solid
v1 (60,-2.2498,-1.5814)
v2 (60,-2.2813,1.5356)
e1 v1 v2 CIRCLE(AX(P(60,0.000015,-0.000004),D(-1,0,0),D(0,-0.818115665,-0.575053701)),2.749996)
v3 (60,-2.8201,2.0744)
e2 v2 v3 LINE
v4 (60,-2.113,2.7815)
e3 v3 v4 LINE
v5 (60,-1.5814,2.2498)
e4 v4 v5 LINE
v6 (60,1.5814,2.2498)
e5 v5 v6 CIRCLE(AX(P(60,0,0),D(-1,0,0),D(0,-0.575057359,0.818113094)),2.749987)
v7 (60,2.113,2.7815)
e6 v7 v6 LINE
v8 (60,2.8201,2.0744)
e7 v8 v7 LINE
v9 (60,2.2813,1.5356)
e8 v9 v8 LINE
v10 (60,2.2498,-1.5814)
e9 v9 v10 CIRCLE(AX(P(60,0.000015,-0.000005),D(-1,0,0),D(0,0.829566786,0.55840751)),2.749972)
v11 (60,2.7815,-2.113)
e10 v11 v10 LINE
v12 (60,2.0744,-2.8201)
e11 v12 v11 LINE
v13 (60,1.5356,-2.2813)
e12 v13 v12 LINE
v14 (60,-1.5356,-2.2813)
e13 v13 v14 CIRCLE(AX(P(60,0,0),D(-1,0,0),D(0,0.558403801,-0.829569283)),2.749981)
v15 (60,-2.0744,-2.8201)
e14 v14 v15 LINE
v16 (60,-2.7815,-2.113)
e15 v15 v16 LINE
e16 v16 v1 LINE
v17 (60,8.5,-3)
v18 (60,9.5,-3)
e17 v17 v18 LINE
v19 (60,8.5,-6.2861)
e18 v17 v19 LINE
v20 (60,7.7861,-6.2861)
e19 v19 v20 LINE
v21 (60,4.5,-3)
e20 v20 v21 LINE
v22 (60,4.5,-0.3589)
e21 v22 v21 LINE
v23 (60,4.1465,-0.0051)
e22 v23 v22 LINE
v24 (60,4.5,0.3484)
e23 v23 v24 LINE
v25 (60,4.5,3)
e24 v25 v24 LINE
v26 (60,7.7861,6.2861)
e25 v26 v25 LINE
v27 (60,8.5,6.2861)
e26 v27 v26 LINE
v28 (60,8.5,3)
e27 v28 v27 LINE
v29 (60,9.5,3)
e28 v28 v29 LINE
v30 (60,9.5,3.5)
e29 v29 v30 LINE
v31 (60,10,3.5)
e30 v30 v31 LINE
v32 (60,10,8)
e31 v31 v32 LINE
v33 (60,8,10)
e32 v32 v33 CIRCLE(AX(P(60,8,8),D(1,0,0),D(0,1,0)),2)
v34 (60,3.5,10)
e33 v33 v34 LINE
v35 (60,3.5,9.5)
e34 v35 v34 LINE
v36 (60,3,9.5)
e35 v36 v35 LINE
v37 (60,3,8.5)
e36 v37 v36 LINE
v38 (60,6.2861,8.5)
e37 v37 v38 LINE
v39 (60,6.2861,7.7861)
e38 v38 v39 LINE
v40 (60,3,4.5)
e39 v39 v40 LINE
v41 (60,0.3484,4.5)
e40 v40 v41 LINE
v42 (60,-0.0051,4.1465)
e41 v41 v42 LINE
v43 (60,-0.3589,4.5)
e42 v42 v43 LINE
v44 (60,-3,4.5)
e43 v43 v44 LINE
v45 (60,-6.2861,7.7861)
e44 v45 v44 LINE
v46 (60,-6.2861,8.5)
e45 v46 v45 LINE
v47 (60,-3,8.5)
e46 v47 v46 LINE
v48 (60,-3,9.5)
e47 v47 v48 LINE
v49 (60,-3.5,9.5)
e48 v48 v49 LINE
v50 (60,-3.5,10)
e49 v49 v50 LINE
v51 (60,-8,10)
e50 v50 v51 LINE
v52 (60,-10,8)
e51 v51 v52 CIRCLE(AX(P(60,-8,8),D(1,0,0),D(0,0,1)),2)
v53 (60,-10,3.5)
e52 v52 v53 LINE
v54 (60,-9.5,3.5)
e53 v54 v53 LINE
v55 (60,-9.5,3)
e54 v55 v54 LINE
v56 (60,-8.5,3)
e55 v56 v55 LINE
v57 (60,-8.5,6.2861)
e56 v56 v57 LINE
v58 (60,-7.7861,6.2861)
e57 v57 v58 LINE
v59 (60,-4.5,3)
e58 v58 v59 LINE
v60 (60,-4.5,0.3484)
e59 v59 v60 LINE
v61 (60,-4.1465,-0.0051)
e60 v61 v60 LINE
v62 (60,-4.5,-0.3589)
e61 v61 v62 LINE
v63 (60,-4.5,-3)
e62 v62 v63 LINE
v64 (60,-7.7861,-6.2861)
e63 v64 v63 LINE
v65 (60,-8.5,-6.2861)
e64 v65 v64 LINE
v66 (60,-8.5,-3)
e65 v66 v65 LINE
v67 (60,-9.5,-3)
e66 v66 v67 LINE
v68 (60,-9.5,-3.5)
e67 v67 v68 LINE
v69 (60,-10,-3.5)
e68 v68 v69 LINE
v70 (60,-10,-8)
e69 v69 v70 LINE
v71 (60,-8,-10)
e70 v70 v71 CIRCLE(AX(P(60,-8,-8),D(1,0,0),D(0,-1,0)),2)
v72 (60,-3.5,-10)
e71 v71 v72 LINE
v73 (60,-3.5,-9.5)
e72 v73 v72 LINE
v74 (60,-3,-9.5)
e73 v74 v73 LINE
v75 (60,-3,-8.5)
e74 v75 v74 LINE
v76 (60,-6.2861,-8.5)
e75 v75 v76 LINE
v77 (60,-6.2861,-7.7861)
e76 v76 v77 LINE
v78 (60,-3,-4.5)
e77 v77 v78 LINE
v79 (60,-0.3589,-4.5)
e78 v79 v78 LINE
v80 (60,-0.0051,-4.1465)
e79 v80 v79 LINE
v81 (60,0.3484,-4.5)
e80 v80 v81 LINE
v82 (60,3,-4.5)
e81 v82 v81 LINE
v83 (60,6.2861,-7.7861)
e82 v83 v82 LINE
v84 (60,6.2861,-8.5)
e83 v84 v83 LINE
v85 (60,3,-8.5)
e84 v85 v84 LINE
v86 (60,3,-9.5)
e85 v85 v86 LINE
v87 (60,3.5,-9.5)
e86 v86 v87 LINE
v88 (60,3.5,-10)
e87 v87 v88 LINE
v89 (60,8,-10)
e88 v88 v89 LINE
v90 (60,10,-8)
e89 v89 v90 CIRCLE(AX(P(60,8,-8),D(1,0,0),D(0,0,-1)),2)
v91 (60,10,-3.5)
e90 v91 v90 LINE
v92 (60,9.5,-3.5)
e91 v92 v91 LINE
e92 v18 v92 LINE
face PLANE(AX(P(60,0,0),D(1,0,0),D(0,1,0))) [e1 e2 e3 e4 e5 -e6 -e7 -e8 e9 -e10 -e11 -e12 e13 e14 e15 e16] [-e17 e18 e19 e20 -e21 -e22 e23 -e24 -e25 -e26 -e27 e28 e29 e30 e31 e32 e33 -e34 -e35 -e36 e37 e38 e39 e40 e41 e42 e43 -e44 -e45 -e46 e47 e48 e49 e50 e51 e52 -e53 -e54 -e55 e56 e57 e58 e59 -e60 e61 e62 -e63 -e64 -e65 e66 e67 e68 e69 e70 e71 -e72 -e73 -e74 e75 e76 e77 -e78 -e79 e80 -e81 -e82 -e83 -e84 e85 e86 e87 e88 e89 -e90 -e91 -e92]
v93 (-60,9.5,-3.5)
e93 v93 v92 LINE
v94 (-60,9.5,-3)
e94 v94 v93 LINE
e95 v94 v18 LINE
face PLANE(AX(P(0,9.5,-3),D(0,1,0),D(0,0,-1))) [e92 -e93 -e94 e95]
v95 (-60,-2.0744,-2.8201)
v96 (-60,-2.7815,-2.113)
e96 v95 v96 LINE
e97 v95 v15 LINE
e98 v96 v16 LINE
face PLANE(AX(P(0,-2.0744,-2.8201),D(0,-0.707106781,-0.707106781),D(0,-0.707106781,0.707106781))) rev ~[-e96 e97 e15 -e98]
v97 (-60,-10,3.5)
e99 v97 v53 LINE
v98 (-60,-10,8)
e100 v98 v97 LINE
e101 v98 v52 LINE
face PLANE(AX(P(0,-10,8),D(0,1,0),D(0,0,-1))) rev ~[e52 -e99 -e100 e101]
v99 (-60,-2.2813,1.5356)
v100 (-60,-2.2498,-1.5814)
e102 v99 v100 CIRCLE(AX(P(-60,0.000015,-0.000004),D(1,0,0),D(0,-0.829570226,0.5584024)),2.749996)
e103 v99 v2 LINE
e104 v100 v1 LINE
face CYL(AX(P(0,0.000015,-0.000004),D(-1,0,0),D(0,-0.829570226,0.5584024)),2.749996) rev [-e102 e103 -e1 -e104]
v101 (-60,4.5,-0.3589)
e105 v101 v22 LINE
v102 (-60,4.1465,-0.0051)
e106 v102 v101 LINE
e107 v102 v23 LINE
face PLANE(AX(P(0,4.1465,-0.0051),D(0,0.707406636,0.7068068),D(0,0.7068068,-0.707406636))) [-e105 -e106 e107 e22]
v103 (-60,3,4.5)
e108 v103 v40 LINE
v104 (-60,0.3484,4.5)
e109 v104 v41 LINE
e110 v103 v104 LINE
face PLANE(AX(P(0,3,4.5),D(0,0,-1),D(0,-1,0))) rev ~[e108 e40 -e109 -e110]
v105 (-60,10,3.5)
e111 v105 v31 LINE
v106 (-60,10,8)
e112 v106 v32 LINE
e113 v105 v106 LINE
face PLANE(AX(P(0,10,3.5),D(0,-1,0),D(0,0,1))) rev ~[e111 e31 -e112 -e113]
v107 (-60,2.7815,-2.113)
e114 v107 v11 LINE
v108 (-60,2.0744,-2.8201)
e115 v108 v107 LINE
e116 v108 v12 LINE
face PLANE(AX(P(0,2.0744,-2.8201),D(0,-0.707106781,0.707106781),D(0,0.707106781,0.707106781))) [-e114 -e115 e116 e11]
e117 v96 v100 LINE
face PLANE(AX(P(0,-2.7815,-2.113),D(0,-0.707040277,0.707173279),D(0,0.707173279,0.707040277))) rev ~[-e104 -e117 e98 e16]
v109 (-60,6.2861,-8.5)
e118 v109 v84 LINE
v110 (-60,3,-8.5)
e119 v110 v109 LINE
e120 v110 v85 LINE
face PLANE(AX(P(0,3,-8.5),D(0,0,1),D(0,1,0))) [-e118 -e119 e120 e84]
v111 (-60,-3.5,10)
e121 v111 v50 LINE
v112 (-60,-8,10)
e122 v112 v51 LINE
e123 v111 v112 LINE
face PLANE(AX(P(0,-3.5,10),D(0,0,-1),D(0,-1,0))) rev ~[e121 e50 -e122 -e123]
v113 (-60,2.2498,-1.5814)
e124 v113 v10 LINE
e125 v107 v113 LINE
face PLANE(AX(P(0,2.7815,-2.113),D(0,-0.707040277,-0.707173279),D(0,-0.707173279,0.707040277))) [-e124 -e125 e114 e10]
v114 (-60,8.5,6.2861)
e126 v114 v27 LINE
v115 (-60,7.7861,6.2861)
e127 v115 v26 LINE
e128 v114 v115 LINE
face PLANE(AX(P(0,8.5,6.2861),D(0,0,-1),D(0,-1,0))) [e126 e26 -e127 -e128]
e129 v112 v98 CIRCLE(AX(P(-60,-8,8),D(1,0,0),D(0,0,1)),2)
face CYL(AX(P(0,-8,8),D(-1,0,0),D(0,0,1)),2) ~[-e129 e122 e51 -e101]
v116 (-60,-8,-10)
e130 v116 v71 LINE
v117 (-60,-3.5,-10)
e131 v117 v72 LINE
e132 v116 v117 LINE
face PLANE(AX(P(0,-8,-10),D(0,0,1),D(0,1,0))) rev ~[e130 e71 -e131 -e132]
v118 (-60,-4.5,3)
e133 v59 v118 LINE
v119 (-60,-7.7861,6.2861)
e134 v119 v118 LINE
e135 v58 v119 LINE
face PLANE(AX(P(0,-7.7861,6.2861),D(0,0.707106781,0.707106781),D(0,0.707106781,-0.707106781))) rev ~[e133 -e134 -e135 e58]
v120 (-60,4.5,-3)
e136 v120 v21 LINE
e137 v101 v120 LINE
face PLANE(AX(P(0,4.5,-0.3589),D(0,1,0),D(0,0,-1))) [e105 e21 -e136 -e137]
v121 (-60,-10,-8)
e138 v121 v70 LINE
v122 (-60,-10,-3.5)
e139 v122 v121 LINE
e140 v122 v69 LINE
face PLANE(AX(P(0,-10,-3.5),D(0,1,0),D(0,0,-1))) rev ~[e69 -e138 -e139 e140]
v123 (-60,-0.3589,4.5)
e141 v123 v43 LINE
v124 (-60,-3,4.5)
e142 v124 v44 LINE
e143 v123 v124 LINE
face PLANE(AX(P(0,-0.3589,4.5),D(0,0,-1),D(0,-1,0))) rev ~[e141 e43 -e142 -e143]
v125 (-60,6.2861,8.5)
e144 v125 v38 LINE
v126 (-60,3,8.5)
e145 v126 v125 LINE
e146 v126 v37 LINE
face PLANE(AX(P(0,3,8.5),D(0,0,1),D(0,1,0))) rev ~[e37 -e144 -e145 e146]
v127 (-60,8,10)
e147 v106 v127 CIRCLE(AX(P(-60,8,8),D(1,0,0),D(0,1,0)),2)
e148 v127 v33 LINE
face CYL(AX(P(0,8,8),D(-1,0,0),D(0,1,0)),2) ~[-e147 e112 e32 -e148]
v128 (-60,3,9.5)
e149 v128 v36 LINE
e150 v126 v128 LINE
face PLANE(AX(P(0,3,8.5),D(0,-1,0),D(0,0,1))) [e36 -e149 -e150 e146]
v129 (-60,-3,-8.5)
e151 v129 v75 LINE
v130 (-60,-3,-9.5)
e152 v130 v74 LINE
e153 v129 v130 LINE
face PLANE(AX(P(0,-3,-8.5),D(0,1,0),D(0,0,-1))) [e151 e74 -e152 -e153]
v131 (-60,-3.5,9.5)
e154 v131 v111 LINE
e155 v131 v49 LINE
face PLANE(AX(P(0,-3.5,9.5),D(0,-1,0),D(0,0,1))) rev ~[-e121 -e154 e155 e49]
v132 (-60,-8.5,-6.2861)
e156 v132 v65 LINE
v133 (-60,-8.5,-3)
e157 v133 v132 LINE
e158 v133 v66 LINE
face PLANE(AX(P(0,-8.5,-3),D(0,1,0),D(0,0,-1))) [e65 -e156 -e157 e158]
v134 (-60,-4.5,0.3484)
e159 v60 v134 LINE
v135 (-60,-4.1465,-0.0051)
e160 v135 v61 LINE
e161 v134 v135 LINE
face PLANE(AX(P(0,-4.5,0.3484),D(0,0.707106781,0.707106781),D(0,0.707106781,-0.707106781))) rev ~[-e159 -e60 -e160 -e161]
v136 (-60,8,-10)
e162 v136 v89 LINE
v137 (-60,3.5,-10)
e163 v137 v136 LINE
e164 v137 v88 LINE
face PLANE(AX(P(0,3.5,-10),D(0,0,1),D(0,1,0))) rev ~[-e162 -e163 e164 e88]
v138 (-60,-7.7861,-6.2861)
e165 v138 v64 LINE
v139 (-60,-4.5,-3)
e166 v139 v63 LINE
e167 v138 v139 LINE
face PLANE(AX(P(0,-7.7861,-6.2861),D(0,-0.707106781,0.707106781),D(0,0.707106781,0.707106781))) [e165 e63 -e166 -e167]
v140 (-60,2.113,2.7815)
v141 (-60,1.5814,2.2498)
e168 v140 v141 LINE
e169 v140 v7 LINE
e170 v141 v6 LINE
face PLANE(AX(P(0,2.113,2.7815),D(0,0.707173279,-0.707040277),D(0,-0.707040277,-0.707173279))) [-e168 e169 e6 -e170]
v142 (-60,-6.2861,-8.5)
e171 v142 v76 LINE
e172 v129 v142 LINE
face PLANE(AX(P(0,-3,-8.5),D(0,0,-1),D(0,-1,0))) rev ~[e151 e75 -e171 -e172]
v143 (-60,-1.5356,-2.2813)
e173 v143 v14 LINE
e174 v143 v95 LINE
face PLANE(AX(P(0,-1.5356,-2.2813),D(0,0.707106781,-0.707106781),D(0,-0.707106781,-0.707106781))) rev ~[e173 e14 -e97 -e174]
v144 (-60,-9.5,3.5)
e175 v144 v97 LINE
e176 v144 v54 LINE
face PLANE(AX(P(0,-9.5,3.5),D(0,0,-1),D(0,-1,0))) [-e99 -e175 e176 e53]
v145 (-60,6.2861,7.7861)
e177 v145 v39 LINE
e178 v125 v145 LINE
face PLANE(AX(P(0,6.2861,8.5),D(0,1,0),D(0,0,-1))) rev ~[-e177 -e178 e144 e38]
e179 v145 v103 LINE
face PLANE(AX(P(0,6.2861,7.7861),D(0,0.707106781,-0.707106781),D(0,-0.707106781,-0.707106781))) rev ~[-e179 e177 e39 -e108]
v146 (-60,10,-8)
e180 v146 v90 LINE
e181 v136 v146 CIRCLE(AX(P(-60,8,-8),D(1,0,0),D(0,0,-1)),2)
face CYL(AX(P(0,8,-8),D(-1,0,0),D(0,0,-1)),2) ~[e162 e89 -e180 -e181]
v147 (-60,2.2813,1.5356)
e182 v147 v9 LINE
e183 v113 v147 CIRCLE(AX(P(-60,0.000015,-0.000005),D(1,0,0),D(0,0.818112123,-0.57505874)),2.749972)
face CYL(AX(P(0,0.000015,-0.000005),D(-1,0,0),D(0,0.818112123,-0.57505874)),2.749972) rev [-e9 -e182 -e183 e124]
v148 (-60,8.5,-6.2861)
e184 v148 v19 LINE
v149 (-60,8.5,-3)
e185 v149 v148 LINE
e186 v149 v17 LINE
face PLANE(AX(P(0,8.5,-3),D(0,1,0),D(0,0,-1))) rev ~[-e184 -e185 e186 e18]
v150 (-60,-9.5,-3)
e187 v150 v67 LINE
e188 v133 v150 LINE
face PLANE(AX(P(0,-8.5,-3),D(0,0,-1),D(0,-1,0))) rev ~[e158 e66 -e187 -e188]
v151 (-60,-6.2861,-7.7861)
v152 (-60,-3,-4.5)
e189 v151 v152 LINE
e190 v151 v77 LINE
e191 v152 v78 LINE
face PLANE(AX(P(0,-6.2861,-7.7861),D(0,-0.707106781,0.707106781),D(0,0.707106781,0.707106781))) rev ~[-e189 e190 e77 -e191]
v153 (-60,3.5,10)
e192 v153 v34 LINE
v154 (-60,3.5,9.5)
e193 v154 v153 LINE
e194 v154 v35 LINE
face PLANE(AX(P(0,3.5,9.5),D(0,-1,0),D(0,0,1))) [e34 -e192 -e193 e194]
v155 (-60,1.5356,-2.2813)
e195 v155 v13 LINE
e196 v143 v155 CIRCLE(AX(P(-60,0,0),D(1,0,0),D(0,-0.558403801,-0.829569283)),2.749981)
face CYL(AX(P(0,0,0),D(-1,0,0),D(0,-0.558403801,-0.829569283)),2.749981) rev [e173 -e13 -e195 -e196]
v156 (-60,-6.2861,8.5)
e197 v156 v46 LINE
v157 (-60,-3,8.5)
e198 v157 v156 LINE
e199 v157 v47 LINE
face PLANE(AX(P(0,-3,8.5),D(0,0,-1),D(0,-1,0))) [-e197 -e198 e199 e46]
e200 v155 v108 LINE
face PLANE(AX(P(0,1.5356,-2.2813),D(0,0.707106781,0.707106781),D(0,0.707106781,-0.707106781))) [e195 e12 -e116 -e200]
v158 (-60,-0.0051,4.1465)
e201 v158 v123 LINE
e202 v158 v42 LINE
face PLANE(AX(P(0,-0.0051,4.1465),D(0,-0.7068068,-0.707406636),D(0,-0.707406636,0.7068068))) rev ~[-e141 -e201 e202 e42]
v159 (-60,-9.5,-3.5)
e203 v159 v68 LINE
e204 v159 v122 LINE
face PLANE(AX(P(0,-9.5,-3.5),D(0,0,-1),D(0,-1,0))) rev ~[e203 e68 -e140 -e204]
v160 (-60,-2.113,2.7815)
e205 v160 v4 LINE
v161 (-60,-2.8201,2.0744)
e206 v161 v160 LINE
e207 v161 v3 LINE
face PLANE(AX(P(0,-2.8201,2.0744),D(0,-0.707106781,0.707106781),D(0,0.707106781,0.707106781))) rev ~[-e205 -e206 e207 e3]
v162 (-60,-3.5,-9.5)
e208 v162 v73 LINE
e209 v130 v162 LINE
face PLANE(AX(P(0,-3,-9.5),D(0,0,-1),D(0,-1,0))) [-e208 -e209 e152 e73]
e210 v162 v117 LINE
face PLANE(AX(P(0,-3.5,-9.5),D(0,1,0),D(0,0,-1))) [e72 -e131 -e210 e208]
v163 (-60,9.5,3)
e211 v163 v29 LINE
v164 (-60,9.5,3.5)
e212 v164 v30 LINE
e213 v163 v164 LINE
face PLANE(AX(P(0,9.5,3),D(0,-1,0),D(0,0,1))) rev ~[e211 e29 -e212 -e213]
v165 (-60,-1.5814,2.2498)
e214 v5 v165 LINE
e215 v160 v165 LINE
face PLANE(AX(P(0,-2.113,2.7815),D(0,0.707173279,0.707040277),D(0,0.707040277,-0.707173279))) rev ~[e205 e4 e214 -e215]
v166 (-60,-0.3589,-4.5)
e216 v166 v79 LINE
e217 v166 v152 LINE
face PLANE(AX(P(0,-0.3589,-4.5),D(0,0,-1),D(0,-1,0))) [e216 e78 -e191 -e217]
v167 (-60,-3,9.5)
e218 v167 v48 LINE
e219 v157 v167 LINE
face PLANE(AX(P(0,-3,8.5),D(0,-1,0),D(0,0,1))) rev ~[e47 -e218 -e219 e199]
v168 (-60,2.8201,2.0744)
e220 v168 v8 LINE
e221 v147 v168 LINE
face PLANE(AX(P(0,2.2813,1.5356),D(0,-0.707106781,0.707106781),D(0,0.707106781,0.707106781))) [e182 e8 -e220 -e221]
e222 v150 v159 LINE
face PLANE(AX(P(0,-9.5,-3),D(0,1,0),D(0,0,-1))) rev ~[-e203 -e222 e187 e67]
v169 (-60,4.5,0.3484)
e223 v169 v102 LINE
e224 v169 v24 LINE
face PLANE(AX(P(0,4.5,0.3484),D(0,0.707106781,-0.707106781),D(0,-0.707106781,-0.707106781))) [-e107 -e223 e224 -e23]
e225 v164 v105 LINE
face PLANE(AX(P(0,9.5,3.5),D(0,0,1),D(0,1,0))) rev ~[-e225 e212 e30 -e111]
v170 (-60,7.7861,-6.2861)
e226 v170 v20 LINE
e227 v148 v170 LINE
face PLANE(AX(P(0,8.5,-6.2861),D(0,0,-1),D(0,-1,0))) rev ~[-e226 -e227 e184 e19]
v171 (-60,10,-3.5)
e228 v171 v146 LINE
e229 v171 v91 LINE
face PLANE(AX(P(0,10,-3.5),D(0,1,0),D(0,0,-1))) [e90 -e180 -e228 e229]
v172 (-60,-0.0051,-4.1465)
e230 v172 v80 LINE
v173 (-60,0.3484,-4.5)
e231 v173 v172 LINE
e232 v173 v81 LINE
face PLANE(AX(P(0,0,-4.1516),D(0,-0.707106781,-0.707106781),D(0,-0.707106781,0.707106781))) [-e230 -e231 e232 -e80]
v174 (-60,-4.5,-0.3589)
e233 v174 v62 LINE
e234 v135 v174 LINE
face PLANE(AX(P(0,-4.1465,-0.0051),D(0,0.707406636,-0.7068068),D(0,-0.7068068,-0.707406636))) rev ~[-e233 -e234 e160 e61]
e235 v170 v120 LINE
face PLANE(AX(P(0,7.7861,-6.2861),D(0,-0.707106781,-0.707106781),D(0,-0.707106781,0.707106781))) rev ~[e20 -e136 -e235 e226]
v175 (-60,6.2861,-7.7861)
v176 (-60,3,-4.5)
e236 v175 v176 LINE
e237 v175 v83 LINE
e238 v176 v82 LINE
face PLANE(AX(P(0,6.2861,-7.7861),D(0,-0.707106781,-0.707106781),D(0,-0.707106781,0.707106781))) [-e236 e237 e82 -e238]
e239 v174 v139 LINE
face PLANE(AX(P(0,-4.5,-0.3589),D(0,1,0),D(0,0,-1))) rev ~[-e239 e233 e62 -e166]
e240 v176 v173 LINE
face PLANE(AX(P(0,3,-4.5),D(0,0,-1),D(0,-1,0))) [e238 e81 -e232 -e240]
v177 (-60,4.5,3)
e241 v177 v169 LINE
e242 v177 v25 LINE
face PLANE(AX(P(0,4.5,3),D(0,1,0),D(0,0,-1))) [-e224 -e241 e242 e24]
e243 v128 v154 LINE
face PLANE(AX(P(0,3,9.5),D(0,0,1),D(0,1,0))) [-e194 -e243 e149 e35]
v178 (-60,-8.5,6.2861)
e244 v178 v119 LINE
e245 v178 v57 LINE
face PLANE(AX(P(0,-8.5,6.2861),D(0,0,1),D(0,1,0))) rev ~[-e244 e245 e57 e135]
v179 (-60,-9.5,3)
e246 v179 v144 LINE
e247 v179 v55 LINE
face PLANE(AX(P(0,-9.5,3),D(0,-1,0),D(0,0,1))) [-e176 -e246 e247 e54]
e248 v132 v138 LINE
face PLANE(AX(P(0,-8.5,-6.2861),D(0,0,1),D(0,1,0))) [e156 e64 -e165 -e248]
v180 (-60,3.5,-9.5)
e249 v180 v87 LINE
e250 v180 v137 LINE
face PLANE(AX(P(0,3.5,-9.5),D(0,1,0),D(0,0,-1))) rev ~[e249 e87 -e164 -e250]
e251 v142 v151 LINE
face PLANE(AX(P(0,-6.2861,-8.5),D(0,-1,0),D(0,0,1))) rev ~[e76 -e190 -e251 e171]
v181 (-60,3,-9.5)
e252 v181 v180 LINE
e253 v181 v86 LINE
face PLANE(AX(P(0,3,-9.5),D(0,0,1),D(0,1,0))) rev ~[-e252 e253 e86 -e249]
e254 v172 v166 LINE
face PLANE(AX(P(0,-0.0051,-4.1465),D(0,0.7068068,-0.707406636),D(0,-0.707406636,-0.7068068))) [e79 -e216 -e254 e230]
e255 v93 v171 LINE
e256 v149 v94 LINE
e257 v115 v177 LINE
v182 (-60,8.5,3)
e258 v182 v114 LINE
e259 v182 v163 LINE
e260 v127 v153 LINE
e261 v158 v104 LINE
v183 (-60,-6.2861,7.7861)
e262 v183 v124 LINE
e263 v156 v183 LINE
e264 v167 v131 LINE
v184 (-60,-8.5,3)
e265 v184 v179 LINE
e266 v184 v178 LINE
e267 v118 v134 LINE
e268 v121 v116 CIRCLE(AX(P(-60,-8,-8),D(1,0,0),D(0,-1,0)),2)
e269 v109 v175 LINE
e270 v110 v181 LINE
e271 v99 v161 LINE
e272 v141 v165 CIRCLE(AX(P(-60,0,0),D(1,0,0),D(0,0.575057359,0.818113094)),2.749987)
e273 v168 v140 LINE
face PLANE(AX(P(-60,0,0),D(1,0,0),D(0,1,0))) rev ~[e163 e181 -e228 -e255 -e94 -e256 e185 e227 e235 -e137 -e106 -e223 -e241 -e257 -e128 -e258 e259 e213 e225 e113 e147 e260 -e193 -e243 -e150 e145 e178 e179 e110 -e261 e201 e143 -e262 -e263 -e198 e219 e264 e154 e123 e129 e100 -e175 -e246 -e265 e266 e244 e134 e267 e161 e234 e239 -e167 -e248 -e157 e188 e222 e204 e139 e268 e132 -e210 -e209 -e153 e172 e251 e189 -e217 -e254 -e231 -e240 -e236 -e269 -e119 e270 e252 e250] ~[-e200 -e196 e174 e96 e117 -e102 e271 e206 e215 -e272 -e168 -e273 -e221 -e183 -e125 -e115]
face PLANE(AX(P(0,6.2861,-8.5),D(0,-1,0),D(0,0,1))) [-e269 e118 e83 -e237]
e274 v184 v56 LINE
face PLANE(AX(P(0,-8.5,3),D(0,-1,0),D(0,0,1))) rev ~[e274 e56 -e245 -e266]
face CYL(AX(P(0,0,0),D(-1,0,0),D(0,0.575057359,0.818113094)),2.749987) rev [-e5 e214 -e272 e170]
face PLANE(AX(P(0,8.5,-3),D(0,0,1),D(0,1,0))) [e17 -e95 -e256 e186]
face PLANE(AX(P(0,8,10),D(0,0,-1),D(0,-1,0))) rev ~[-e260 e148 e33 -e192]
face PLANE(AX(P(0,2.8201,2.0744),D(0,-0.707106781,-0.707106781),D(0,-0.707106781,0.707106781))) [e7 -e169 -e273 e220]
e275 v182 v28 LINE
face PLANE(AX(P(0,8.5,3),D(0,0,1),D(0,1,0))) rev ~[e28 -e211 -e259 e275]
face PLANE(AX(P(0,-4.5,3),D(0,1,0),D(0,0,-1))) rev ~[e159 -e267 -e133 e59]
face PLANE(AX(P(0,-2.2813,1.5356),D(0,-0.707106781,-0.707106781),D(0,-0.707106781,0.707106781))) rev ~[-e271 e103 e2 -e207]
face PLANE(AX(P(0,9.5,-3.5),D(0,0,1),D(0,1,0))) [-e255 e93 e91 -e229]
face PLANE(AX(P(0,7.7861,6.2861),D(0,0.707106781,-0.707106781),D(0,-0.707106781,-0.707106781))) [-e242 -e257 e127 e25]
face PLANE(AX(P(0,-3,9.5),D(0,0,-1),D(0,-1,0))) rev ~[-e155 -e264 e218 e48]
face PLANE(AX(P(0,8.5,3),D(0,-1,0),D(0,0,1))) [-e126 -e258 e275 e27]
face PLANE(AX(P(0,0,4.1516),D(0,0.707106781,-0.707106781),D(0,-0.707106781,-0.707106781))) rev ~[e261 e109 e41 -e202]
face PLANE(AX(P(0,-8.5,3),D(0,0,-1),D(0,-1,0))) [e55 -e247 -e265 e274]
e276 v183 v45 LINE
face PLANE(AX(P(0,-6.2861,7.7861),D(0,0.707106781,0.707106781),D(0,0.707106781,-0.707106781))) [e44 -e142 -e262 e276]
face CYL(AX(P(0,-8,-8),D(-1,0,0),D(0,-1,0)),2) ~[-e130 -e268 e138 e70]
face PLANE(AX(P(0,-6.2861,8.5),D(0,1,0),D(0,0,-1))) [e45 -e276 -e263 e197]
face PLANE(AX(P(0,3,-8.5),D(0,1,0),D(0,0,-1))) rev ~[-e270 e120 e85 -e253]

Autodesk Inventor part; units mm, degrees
ref_plane "YZ Plane" through (0, 0, 0) normal (1, 0, 0) x (0, 1, 0)
ref_plane "XZ Plane" through (0, 0, 0) normal (0, 1, 0) x (-1, 0, 0)
ref_plane "XY Plane" through (0, 0, 0) normal (0, 0, 1) x (1, 0, 0)
sketch "Skizze1" plane through (0, 0, 0) normal (1, 0, 0) x (0, 1, 0)
  line L0 (-14.5799, 0) -> (14.5799, 0) projected
  line L1 (0, -14.5799) -> (0, 14.5799) projected
  line L2 (9.5, 3) -> (9.5, 3.5)
  line L3 (9.5, 3.5) -> (10, 3.5)
  line L4 (8.5, 3) -> (8.5, 6.2861)
  line L5 (7.7861, 6.2861) -> (4.5, 3)
  line L6 (8.5, 6.2861) -> (7.7861, 6.2861)
  line L7 (8.5, 3) -> (9.5, 3)
  line L8 (9.5, -3) -> (9.5, -3.5)
  line L9 (9.5, -3.5) -> (10, -3.5)
  line L10 (8.5, -3) -> (8.5, -6.2861)
  line L11 (7.7861, -6.2861) -> (4.5, -3)
  line L12 (8.5, -6.2861) -> (7.7861, -6.2861)
  line L13 (8.5, -3) -> (9.5, -3)
  line L14 (10, 3.5) -> (10, 8)
  line L15 (10, -3.5) -> (10, -8)
  line L16 (-9.5, 3) -> (-9.5, 3.5)
  line L17 (-9.5, 3.5) -> (-10, 3.5)
  line L18 (-8.5, 3) -> (-8.5, 6.2861)
  line L19 (-7.7861, 6.2861) -> (-4.5, 3)
  line L20 (-8.5, 6.2861) -> (-7.7861, 6.2861)
  line L21 (-8.5, 3) -> (-9.5, 3)
  line L22 (-8.5, -3) -> (-9.5, -3)
  line L23 (-8.5, -3) -> (-8.5, -6.2861)
  line L24 (-8.5, -6.2861) -> (-7.7861, -6.2861)
  line L25 (-7.7861, -6.2861) -> (-4.5, -3)
  line L26 (-9.5, -3) -> (-9.5, -3.5)
  line L27 (-9.5, -3.5) -> (-10, -3.5)
  line L28 (3, -9.5) -> (3.5, -9.5)
  line L29 (3.5, -9.5) -> (3.5, -10)
  line L30 (3, -8.5) -> (6.2861, -8.5)
  line L31 (6.2861, -7.7861) -> (3, -4.5)
  line L32 (6.2861, -8.5) -> (6.2861, -7.7861)
  line L33 (3, -8.5) -> (3, -9.5)
  line L34 (-3, -8.5) -> (-3, -9.5)
  line L35 (-3, -8.5) -> (-6.2861, -8.5)
  line L36 (-6.2861, -8.5) -> (-6.2861, -7.7861)
  line L37 (-6.2861, -7.7861) -> (-3, -4.5)
  line L38 (-3, -9.5) -> (-3.5, -9.5)
  line L39 (-3.5, -9.5) -> (-3.5, -10)
  line L40 (3.5, 9.5) -> (3.5, 10)
  line L41 (3, 9.5) -> (3.5, 9.5)
  line L42 (3, 8.5) -> (3, 9.5)
  line L43 (3, 8.5) -> (6.2861, 8.5)
  line L44 (6.2861, 8.5) -> (6.2861, 7.7861)
  line L45 (6.2861, 7.7861) -> (3, 4.5)
  line L46 (-6.2861, 7.7861) -> (-3, 4.5)
  line L47 (-6.2861, 8.5) -> (-6.2861, 7.7861)
  line L48 (-3, 8.5) -> (-6.2861, 8.5)
  line L49 (-3, 8.5) -> (-3, 9.5)
  line L50 (-3, 9.5) -> (-3.5, 9.5)
  line L51 (-3.5, 9.5) -> (-3.5, 10)
  line L52 (8, 10) -> (3.5, 10)
  line L53 (-3.5, 10) -> (-8, 10)
  line L54 (-10, 8) -> (-10, 3.5)
  line L55 (-10, -3.5) -> (-10, -8)
  line L56 (-8, -10) -> (-3.5, -10)
  line L57 (3.5, -10) -> (8, -10)
  arc A0 (10, 8) -> (8, 10) centre (8, 8) ccw
  arc A1 (8, -10) -> (10, -8) centre (8, -8) ccw
  arc A2 (-10, -8) -> (-8, -10) centre (-8, -8) ccw
  arc A3 (-8, 10) -> (-10, 8) centre (-8, 8) ccw
  line L58 (-2.8201, 2.0744) -> (-2.113, 2.7815)
  line L59 (-2.113, 2.7815) -> (-1.5814, 2.2498)
  line L60 (-2.2813, 1.5356) -> (-2.8201, 2.0744)
  line L61 (2.8201, 2.0744) -> (2.113, 2.7815)
  line L62 (2.113, 2.7815) -> (1.5814, 2.2498)
  line L63 (2.2813, 1.5356) -> (2.8201, 2.0744)
  line L64 (2.0744, -2.8201) -> (2.7815, -2.113)
  line L65 (2.7815, -2.113) -> (2.2498, -1.5814)
  line L66 (1.5356, -2.2813) -> (2.0744, -2.8201)
  line L67 (-2.7815, -2.113) -> (-2.2498, -1.5814)
  line L68 (-2.0744, -2.8201) -> (-2.7815, -2.113)
  line L69 (-1.5356, -2.2813) -> (-2.0744, -2.8201)
  arc A4 (1.5814, 2.2498) -> (-1.5814, 2.2498) centre (0, 0) ccw
  arc A5 (1.5814, 2.2498) -> (-1.5814, 2.2498) centre (0, 0) ccw
  arc A6 (2.2498, -1.5814) -> (2.2813, 1.5356) centre (0, 0) ccw
  arc A7 (2.2498, -1.5814) -> (2.2813, 1.5356) centre (0, 0) ccw
  arc A8 (-2.2813, 1.5356) -> (-2.2498, -1.5814) centre (0, 0) ccw
  arc A9 (-1.5356, -2.2813) -> (1.5356, -2.2813) centre (0, 0) ccw
  arc A10 (-2.2813, 1.5356) -> (-2.2498, -1.5814) centre (0, 0) ccw
  arc A11 (-1.5356, -2.2813) -> (1.5356, -2.2813) centre (0, 0) ccw
  line L70 (0.3484, 4.5) -> (-0.0051, 4.1465)
  line L71 (-0.0051, 4.1465) -> (-0.3589, 4.5)
  line L72 (3, 4.5) -> (0.3484, 4.5)
  line L73 (-0.3589, 4.5) -> (-3, 4.5)
  line L74 (4.5, 0.3484) -> (4.1465, -0.0051)
  line L75 (4.1465, -0.0051) -> (4.5, -0.3589)
  line L76 (0.3484, -4.5) -> (-0.0051, -4.1465)
  line L77 (-0.0051, -4.1465) -> (-0.3589, -4.5)
  line L78 (-4.5, 0.3484) -> (-4.1465, -0.0051)
  line L79 (-4.1465, -0.0051) -> (-4.5, -0.3589)
  line L80 (4.5, 3) -> (4.5, 0.3484)
  line L81 (4.5, -0.3589) -> (4.5, -3)
  line L82 (3, -4.5) -> (0.3484, -4.5)
  line L83 (-0.3589, -4.5) -> (-3, -4.5)
  line L84 (-4.5, 3) -> (-4.5, 0.3484)
  line L85 (-4.5, -0.3589) -> (-4.5, -3)
  point P0 (-10, -10)
  point P1 (-10, 10)
  point P2 (10, -10)
  dimension "d0" = 20
  dimension "d1" = 20
  dimension "d4" = 6
  dimension "d9" = 0.5
  dimension "d10" = 0.5
  dimension "d13" = 45
  dimension "d14" = 3.2861
  dimension "d16" = 3
  dimension "d17" = 3.5
  dimension "d19" = 6
  dimension "d20" = 0.5
  dimension "d21" = 0.5
  dimension "d22" = 45
  dimension "d23" = 3.2861
  dimension "d25" = 2
extrude "Extrusion1" add sketch "Skizze1" along normal mid plane 120 contours L78 L84 L19 L20 L18 L21 L16 L17 L54 A3 L53 L51 L50 L49 L48 L47 L46 L73 L71 L70 L1 A4 L59 L58 L60 A8 L0 | L0 A8 L67 L68 L69 A9 L1 L76 L77 L83 L37 L36 L35 L34 L38 L39 L56 A2 L55 L27 L26 L22 L23 L24 L25 L85 L79 L78 | A6 L63 L61 L62 A4 L1 L70 L72 L45 L44 L43 L42 L41 L40 L52 A0 L14 L3 L2 L7 L4 L6 L5 L80 L74 L0 | L0 L74 L75 L81 L11 L12 L10 L13 L8 L9 L15 A1 L57 L29 L28 L33 L30 L32 L31 L82 L76 L1 A9 L66 L64 L65 A6
properties part number "Motedius_20x20_B-Type_Slot-6_120" material "Aluminium 6061"
